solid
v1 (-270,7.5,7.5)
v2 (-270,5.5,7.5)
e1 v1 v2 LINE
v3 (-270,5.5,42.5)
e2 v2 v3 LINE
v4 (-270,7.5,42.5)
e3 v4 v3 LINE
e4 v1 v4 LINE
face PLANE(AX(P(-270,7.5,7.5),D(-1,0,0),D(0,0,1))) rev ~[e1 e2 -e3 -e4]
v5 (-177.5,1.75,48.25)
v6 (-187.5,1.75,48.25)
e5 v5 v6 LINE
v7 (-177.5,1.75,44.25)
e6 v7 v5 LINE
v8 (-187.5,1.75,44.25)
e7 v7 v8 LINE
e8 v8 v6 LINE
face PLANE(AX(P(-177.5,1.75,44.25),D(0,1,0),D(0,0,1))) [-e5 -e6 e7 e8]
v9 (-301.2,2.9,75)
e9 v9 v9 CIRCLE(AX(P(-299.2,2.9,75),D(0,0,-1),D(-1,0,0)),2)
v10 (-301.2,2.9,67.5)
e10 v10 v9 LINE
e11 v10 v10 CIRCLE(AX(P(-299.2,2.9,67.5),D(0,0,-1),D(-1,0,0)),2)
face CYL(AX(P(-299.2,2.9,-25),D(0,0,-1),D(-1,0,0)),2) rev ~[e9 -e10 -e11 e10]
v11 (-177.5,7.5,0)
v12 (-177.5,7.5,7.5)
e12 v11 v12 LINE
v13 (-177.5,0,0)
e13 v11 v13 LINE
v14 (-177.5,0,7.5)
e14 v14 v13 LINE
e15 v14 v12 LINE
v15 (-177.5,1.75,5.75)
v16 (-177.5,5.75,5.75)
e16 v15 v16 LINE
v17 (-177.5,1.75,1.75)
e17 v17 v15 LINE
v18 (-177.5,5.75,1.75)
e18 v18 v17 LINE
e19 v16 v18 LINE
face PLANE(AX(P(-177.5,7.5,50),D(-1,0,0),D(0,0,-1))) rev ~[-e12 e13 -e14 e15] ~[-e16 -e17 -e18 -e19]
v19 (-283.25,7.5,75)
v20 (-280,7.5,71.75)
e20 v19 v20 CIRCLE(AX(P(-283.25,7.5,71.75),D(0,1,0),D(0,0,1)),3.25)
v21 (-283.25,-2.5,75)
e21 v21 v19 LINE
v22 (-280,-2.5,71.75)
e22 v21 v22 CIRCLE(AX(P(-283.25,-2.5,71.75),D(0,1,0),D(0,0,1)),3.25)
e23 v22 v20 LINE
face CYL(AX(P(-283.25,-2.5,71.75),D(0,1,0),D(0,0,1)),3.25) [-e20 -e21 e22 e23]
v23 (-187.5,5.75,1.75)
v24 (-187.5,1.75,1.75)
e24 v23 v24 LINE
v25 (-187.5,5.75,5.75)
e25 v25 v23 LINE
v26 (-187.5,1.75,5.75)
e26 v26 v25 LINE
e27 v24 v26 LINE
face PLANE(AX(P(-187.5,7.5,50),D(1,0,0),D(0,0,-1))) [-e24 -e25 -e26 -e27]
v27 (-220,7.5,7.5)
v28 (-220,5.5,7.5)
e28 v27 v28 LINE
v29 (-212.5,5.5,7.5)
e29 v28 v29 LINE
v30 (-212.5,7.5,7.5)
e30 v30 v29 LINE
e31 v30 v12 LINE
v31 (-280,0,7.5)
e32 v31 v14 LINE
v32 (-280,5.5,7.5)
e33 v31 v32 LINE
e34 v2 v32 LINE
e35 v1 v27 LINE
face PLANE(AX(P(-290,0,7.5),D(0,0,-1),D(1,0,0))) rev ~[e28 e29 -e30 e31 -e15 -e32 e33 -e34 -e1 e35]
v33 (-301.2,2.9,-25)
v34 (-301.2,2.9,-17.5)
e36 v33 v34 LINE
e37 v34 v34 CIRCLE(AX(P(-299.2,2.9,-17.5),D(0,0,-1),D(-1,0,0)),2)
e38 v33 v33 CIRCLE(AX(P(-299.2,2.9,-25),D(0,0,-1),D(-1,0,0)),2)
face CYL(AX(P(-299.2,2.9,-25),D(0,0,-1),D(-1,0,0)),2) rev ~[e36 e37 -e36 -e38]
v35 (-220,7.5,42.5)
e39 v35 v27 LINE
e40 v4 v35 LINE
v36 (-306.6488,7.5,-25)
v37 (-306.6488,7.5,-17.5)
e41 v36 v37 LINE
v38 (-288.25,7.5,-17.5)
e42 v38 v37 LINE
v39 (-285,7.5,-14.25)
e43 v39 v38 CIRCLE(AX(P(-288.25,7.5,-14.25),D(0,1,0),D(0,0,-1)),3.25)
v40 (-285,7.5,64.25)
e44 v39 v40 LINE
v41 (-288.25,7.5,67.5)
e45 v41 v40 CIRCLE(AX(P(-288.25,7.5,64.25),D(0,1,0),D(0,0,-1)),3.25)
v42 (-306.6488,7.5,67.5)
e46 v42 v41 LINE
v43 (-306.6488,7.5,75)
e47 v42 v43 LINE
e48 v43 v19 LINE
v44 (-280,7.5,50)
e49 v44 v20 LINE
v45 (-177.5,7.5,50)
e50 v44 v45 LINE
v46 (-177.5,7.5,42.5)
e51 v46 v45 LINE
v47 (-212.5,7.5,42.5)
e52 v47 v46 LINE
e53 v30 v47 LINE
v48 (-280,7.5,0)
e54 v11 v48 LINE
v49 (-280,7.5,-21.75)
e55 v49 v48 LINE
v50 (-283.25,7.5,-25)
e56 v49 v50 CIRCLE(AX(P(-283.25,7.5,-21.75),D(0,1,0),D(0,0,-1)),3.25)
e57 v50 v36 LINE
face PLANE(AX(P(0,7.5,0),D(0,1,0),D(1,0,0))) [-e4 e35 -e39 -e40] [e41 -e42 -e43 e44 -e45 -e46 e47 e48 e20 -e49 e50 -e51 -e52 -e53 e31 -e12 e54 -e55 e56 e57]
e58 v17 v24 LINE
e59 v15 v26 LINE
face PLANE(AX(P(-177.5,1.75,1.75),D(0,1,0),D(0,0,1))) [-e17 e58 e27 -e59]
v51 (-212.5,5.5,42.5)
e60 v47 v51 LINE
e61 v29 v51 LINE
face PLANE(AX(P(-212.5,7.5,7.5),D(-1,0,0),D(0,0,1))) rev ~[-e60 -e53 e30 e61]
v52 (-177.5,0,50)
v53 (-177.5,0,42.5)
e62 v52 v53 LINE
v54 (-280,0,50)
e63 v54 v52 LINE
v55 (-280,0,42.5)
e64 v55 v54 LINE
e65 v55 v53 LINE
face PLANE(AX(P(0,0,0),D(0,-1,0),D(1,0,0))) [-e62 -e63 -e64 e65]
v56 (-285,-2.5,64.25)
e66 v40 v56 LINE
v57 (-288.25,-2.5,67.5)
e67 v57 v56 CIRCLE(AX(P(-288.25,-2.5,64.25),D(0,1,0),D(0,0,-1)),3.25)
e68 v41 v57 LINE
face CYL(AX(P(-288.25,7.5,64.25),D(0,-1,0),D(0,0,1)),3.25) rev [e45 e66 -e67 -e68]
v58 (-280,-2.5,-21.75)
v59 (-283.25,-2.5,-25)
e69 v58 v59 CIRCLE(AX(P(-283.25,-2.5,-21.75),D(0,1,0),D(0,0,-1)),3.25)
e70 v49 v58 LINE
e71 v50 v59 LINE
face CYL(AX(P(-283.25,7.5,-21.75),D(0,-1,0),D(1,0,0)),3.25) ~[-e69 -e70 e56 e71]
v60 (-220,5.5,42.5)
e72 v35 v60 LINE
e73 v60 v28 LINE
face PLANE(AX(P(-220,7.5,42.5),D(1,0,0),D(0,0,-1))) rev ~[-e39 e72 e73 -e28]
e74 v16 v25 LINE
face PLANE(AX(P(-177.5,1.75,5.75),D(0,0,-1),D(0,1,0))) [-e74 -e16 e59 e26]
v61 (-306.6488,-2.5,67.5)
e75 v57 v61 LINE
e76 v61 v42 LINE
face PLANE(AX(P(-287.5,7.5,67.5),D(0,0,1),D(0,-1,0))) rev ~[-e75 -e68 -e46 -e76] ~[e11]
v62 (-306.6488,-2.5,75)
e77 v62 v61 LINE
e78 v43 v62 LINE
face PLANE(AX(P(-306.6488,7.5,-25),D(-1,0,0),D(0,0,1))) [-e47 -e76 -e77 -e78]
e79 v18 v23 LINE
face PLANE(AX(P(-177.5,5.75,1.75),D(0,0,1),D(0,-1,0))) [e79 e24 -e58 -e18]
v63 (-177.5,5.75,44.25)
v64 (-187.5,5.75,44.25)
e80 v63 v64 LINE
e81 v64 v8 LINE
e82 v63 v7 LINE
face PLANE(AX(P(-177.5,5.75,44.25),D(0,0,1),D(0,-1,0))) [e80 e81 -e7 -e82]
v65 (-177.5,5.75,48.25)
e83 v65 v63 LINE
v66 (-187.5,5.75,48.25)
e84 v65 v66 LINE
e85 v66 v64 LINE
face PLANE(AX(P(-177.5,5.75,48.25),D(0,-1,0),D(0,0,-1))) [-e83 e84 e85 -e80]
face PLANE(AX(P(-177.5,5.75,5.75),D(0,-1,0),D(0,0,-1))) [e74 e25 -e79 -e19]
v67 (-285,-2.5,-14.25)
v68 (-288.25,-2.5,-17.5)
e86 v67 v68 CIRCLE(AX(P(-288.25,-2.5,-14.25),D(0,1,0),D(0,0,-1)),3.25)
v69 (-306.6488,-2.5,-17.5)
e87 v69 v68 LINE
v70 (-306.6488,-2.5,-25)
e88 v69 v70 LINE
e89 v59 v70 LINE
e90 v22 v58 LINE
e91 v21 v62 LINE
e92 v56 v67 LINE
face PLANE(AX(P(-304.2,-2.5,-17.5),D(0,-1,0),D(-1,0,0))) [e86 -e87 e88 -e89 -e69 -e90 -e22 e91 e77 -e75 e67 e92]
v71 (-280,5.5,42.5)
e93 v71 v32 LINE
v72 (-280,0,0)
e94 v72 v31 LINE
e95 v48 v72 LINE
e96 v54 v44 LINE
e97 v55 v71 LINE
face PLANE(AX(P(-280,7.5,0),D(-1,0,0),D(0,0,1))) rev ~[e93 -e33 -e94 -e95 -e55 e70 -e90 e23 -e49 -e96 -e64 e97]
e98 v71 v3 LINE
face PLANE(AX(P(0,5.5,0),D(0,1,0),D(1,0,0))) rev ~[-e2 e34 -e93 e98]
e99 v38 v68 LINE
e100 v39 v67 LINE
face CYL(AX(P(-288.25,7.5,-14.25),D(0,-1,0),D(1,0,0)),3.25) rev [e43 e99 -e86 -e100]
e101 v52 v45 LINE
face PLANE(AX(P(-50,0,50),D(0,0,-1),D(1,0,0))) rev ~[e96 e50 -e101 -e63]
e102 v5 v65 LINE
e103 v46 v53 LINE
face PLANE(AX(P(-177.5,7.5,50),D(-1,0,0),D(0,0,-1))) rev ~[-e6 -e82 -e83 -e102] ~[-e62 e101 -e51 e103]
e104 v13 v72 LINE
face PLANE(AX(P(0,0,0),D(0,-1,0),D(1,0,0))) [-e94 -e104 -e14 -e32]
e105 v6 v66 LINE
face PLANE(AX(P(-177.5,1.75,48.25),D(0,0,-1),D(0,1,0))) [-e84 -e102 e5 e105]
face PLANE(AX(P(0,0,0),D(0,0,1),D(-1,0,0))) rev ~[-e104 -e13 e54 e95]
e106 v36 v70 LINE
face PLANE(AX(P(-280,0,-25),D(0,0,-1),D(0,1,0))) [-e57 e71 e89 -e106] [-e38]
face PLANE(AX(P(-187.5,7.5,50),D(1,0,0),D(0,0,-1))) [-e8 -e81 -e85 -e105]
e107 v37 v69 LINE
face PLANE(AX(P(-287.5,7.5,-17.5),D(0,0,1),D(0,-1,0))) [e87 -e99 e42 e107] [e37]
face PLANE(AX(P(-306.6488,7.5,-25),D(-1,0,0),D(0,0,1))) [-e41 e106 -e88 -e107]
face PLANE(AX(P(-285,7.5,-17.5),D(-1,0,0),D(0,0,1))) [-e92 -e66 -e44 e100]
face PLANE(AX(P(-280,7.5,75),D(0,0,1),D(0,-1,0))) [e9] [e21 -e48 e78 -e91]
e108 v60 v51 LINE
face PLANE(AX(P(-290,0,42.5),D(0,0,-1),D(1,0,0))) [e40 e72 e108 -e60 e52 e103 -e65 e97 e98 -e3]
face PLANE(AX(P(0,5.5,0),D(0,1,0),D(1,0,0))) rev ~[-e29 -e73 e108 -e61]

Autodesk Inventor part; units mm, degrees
ref_plane "YZ Plane" through (0, 0, 0) normal (1, 0, 0) x (0, 1, 0)
ref_plane "XZ Plane" through (0, 0, 0) normal (0, 1, 0) x (-1, 0, 0)
ref_plane "XY Plane" through (0, 0, 0) normal (0, 0, 1) x (1, 0, 0)
sketch "Sketch1" plane through (0, 0, 0) normal (0, 1, 0) x (-1, 0, 0)
  line L0 (0, 0) -> (50, 0)
  line L1 (50, 0) -> (50, 50)
  line L2 (50, 50) -> (0, 50)
  line L3 (0, 50) -> (0, 0)
  line L4 (50, 50) -> (290, 50)
  line L5 (290, 50) -> (290, 42.5)
  line L6 (290, 42.5) -> (50, 42.5)
  line L7 (50, 42.5) -> (50, 50)
  line L8 (50, 0) -> (290, 0)
  line L9 (290, 0) -> (290, 7.5)
  line L10 (290, 7.5) -> (50, 7.5)
  line L11 (50, 7.5) -> (50, 0)
  dimension "d0" = 50
  dimension "d1" = 50
  dimension "d2" = 240
  dimension "d3" = 7.5
  dimension "d4" = 7.5
extrude "Extrusion1" add sketch "Sketch1" along normal blind 7.5
sketch "Sketch2" plane through (0, 7.5, 0) normal (0, 1, 0) x (1, 0, 0)
  line L0 (0, -50) -> (0, 0) projected
  point P0 (0, -25)
hole "Hole1" at (0, 7.5, 25) direction (0, -1, 0) diameter 6.35 end through all
sketch "Sketch3" plane through (0, 7.5, 0) normal (0, 1, 0) x (1, 0, 0)
  line L0 (-3.175, -50) -> (-3.175, 0) construction
  line L1 (-3.175, -50) -> (-28.175, -50) construction
  line L2 (-28.175, -50) -> (-28.175, 0) construction
  line L3 (-28.175, 0) -> (-3.175, 0) construction
  point P0 (0, 0)
  point P1 (-7.175, -4)
  point P2 (-24.175, -46)
  dimension "d14" = 25
hole "Hole2" at (-7.175, 7.5, 4) at (-24.175, 7.5, 46) direction (0, -1, 0) diameter 3.3 end through all
sketch "Sketch4" plane through (0, 7.5, 0) normal (0, 1, 0) x (1, 0, 0)
  arc A0 (0, -21.825) -> (0, -28.175) centre (0, -25) ccw construction
  line L0 (-3.175, -25) -> (-28.175, -25) construction
  line L1 (-3.175, -25) -> (21.825, -25) construction
  line L2 (-290, -50) -> (0, -50) construction
  line L3 (-28.175, -50) -> (-28.175, 0) construction
  line L4 (-50, -7.5) -> (-50, -42.5) construction
  line L5 (-50, -42.5) -> (-45, -42.5) construction
  line L6 (-45, -42.5) -> (-45, -32.5) construction
  line L7 (-45, -32.5) -> (-50, -32.5) construction
  line L8 (-50, -32.5) -> (-50, -42.5) construction
  line L9 (-45, -32.5) -> (-40, -32.5)
  line L10 (-40, -32.5) -> (-40, -42.5)
  line L11 (-40, -42.5) -> (-45, -42.5)
  line L12 (-45, -42.5) -> (-45, -32.5)
  point P0 (0, 0)
  dimension "d22" = 25
  dimension "d23" = 180
  dimension "d24" = 5
  dimension "d25" = 10
  dimension "d26" = 5
extrude "Extrusion2" add sketch "Sketch4" along normal blind 17.5
sketch "Sketch5" plane through (0, 7.5, 0) normal (0, 1, 0) x (1, 0, 0)
  line L0 (-85, -7.5) -> (-85, -42.5)
  line L1 (-127.5, -7.5) -> (-127.5, -42.5)
  line L2 (-92.5, -42.5) -> (-92.5, -7.5)
  line L3 (-135, -7.5) -> (-170, -7.5) construction
  line L4 (-170, -7.5) -> (-170, -42.5) construction
  line L5 (-170, -42.5) -> (-135, -42.5) construction
  line L6 (-135, -42.5) -> (-135, -7.5) construction
  line L7 (-177.5, -7.5) -> (-212.5, -7.5) construction
  line L8 (-212.5, -7.5) -> (-212.5, -42.5) construction
  line L9 (-212.5, -42.5) -> (-177.5, -42.5) construction
  line L10 (-177.5, -42.5) -> (-177.5, -7.5) construction
  line L11 (-220, -7.5) -> (-255, -7.5) construction
  line L12 (-255, -7.5) -> (-255, -42.5) construction
  line L13 (-255, -42.5) -> (-220, -42.5) construction
  line L14 (-220, -42.5) -> (-220, -7.5) construction
  line L15 (-85, -7.5) -> (-92.5, -7.5) construction
  line L16 (-92.5, -7.5) -> (-92.5, -42.5) construction
  line L17 (-92.5, -42.5) -> (-85, -42.5) construction
  line L18 (-85, -42.5) -> (-85, -7.5) construction
  line L19 (-127.5, -7.5) -> (-135, -7.5) construction
  line L20 (-135, -7.5) -> (-135, -42.5) construction
  line L21 (-135, -42.5) -> (-127.5, -42.5) construction
  line L22 (-127.5, -42.5) -> (-127.5, -7.5) construction
  line L23 (-170, -7.5) -> (-177.5, -7.5) construction
  line L24 (-177.5, -7.5) -> (-177.5, -42.5) construction
  line L25 (-177.5, -42.5) -> (-170, -42.5) construction
  line L26 (-170, -42.5) -> (-170, -7.5) construction
  line L27 (-212.5, -7.5) -> (-220, -7.5) construction
  line L28 (-220, -7.5) -> (-220, -42.5) construction
  line L29 (-220, -42.5) -> (-212.5, -42.5) construction
  line L30 (-212.5, -42.5) -> (-212.5, -7.5) construction
  line L31 (-220, -7.5) -> (-212.5, -7.5)
  line L32 (-212.5, -7.5) -> (-212.5, -42.5)
  line L33 (-212.5, -42.5) -> (-220, -42.5)
  line L34 (-220, -42.5) -> (-220, -7.5)
  line L35 (-177.5, -7.5) -> (-170, -7.5)
  line L36 (-170, -7.5) -> (-170, -42.5)
  line L37 (-170, -42.5) -> (-177.5, -42.5)
  line L38 (-177.5, -42.5) -> (-177.5, -7.5)
  line L39 (-135, -7.5) -> (-127.5, -7.5)
  line L40 (-127.5, -7.5) -> (-127.5, -42.5)
  line L41 (-127.5, -42.5) -> (-135, -42.5)
  line L42 (-135, -42.5) -> (-135, -7.5)
  line L43 (-92.5, -7.5) -> (-85, -7.5)
  line L44 (-85, -7.5) -> (-85, -42.5)
  line L45 (-85, -42.5) -> (-92.5, -42.5)
  line L46 (-92.5, -42.5) -> (-92.5, -7.5)
  point P0 (0, 0)
  point P1 (-50, -7.5)
  dimension "d30" = 35
  dimension "d31" = 35
  dimension "d32" = 35
  dimension "d33" = 35
  dimension "d34" = 35
  dimension "d35" = 35
extrude "Extrusion3" add sketch "Sketch5" against normal blind 2
sketch "Sketch6" plane through (0, 7.5, 0) normal (0, 1, 0) x (1, 0, 0)
  line L0 (-290, 0) -> (-290, -7.5) projected
  line L1 (-290, -50) -> (0, -50) projected
  line L2 (-290, 0) -> (-280, 0)
  line L3 (-280, 0) -> (-280, -50)
  line L4 (-280, -50) -> (-290, -50)
  line L5 (-290, -50) -> (-290, 0)
  point P0 (0, 0)
  dimension "d38" = 10
extrude "Extrusion4" cut sketch "Sketch6" against normal blind 7.5
sketch "Sketch7" plane through (-280, 7.5, 0) normal (-1, 0, 0) x (0, 0, 1)
  point P0 (0, -7.5)
sketch "Sketch8" plane through (-280, 7.5, 0) normal (-1, 0, 0) x (0, 0, 1)
  line L0 (-25, 0) -> (75, 0)
  line L1 (75, 0) -> (75, -7.5)
  line L2 (75, -7.5) -> (-25, -7.5)
  line L3 (-25, -7.5) -> (-25, 0)
  line L4 (-25, 0) -> (75, 0)
  line L5 (75, 0) -> (75, -10)
  line L6 (75, -10) -> (-25, -10)
  line L7 (-25, -10) -> (-25, 0)
  point P0 (0, -7.5)
  dimension "d41" = 100
  dimension "d42" = 10
extrude "Extrusion5" add sketch "Sketch8" along normal blind 7.5
sketch "Sketch9" plane through (-287.5, 7.5, 0) normal (-1, 0, 0) x (0, 0, 1)
  line L0 (75, 0) -> (-25, 0) projected
  line L1 (-25, -10) -> (75, -10) projected
  line L2 (-25, 0) -> (-17.5, 0)
  line L3 (-17.5, 0) -> (-17.5, -10)
  line L4 (-17.5, -10) -> (-25, -10)
  line L5 (-25, -10) -> (-25, 0)
  line L6 (75, 0) -> (67.5, 0)
  line L7 (67.5, 0) -> (67.5, -10)
  line L8 (67.5, -10) -> (75, -10)
  line L9 (75, -10) -> (75, 0)
  point P0 (0, -7.5)
  dimension "d45" = 7.5
  dimension "d46" = 7.5
extrude "Extrusion6" add sketch "Sketch9" along normal blind 25 contours L9 L1 L7 L0 | L3 L1 L5 L0
sketch "Sketch10" plane through (-287.5, -2.5, -17.5) normal (0, 0, 1) x (1, 0, 0)
  line L0 (0, 0) -> (-25, 0) construction
  line L1 (0, 0) -> (-3, 0) construction
  line L2 (-3, 0) -> (-6.2, 0)
  line L3 (-6.2, 0) -> (-6.2, 2.1)
  line L4 (-6.2, 2.1) -> (-3, 2.1)
  line L5 (-3, 2.1) -> (-3, 0)
  line L6 (-6.2, 2.1) -> (-11.7, 2.1) construction
  line L7 (-11.7, 2.1) -> (-11.7, 5.4) construction
  point P0 (287.5, 2.5)
  dimension "d49" = 3
  dimension "d50" = 3.2
  dimension "d51" = 2.1
  dimension "d52" = 5.5
  dimension "d53" = 3.3
extrude "Extrusion7" add sketch "Sketch10" along normal blind 92.5
sketch "Sketch11" plane through (-287.5, -2.5, -17.5) normal (0, 0, 1) x (1, 0, 0)
  line L0 (-6.2, 2.1) -> (-3, 2.1) construction
  line L1 (-6.2, 2.1) -> (-11.7, 2.1) construction
  line L2 (-11.7, 2.1) -> (-11.7, 5.4) construction
  circle A0 centre (-11.7, 5.4) radius 2.125
  point P0 (287.5, 2.5)
  dimension "d56" = 5.5
  dimension "d57" = 3.3
  dimension "d58" = 4.25
extrude "Extrusion8" cut sketch "Sketch11" along normal mid plane 241
sketch "Sketch12" plane through (-287.5, -2.5, -17.5) normal (0, 0, 1) x (1, 0, 0)
  circle A0 centre (-11.7, 5.4) radius 2.125 construction
  line L0 (-11.7, 5.4) -> (-11.7, 0.96) construction
  line L1 (-11.7, 0.96) -> (-16.7, 0.96) construction
  line L2 (-6.2, 0) -> (-25, 0) projected
  line L3 (-16.7, 0.96) -> (-19.2, 0.96)
  line L4 (-19.2, 0.96) -> (-19.2, 0)
  line L5 (-19.2, 0) -> (-16.7, 0)
  line L6 (-16.7, 0) -> (-16.7, 0.96)
  point P0 (287.5, 2.5)
  dimension "d61" = 4.44
  dimension "d62" = 5
  dimension "d63" = 2.5
extrude "Extrusion9" add sketch "Sketch12" along normal blind 91.25
sketch "Sketch13" plane through (-293.7, -0.4, -17.5) normal (0, 1, 0) x (1, 0, 0)
  line L0 (3.2, 0) -> (3.2, -85) construction
  line L1 (3.2, 0) -> (3.2, -30) construction
  line L2 (0, 0) -> (0, -85) construction
  line L3 (3.2, -30) -> (0, -30) construction
  line L4 (0, -30) -> (0, -36.35) construction
  line L5 (0, -36.35) -> (3.2, -36.35) construction
  line L6 (3.2, -36.35) -> (3.2, -30) construction
  line L7 (0, -30) -> (3.2, -30)
  line L8 (3.2, -30) -> (3.2, -36.35)
  line L9 (3.2, -36.35) -> (0, -36.35)
  line L10 (0, -36.35) -> (0, -30)
  point P0 (293.7, -17.5)
  dimension "d66" = 30
  dimension "d67" = 6.35
extrude "Extrusion10" add sketch "Sketch13" along normal blind 3.8
sketch "Sketch14" plane through (0, 7.5, 0) normal (0, 1, 0) x (1, 0, 0)
  line L0 (-287.5, 17.5) -> (-287.5, -67.5) projected
  line L1 (-287.5, 17.5) -> (-285, 17.5)
  line L2 (-285, 17.5) -> (-285, -67.5)
  line L3 (-285, -67.5) -> (-287.5, -67.5)
  line L4 (-287.5, -67.5) -> (-287.5, 17.5)
  point P0 (0, 0)
  dimension "d70" = 2.5
extrude "Extrusion11" cut sketch "Sketch14" against normal blind 14.55
sketch "Sketch15" plane through (0, 7.5, 0) normal (0, 1, 0) x (1, 0, 0)
  line L0 (-312.5, 17.5) -> (-312.5, 25) projected
  line L1 (-280, -75) -> (-312.5, -75) projected
  line L2 (-312.5, 25) -> (-306.6488, 25)
  line L3 (-306.6488, 25) -> (-306.6488, -75)
  line L4 (-306.6488, -75) -> (-312.5, -75)
  line L5 (-312.5, -75) -> (-312.5, 25)
  point P0 (0, 0)
extrude "Extrusion12" cut sketch "Sketch15" against normal blind 14.55
fillet "Fillet1" radius 0.1 1 edges at (-301.325, 2.9, -17.5)
fillet "Fillet2" radius 0.1 1 edges at (-301.325, 2.9, 67.5)
fillet "Fillet3" radius 3.25 1 edges at (-280, 2.5, 75)
fillet "Fillet4" radius 3.25 1 edges at (-285, 2.5, 67.5)
fillet "Fillet5" radius 3.25 1 edges at (-280, 2.5, -25)
fillet "Fillet6" radius 3.25 1 edges at (-285, 2.5, -17.5)
sketch "Sketch16" plane through (0, 7.5, 0) normal (0, 1, 0) x (1, 0, 0)
  line L0 (-220, -42.5) -> (-220, -7.5) construction
  line L1 (-220, -42.5) -> (-280, -42.5) construction
  line L2 (-220, -7.5) -> (-255, -7.5) construction
  line L3 (-255, -7.5) -> (-255, -42.5) construction
  line L4 (-255, -42.5) -> (-220, -42.5) construction
  line L5 (-220, -42.5) -> (-220, -7.5) construction
  line L6 (-280, -7.5) -> (-280, 0) projected
  line L7 (-280, -7.5) -> (-270, -7.5)
  line L8 (-270, -7.5) -> (-270, -42.5)
  line L9 (-270, -42.5) -> (-280, -42.5)
  line L10 (-280, -42.5) -> (-280, -7.5)
  point P0 (0, 0)
  dimension "d81" = 35
  dimension "d82" = 10
extrude "Extrusion13" add sketch "Sketch16" against normal blind 2
sketch "Sketch17" plane through (0, 7.5, 0) normal (0, 1, 0) x (1, 0, 0)
  point P0 (0, 0)
sketch "Sketch18" plane through (0, 7.5, 0) normal (0, 1, 0) x (1, 0, 0)
  line L0 (-270, -7.5) -> (-270, -42.5) construction
  line L1 (-285, -64.25) -> (-285, 14.25) construction
  line L2 (-280, -7.5) -> (-280, 0) construction
  line L3 (-270, -7.5) -> (-280, -7.5) construction
  line L4 (-275, -7.5) -> (-275, -42.5) construction
  line L5 (-50, -42.5) -> (-280, -42.5) construction
  circle A0 centre (-275, -12.5) radius 1.8 construction
  circle A1 centre (-275, -37.5) radius 1.8 construction
  circle A2 centre (-275, -12.5) radius 1.8
  circle A3 centre (-275, -37.5) radius 1.8
  point P0 (0, 0)
  dimension "d85" = 3.6
  dimension "d86" = 3.6
hole "Hole3" at (-275, 7.5, 12.5) at (-275, 7.5, 37.5) direction (0, -1, 0) diameter 3.3 depth 15 tip angle 118
sketch "Sketch19" plane through (0, 7.5, 0) normal (0, 1, 0) x (1, 0, 0)
  circle A0 centre (-275, -12.5) radius 1.65 construction
  line L0 (-275, -12.5) -> (-212.5, -12.5) construction
  line L1 (-212.5, -7.5) -> (-212.5, -42.5) construction
  circle A1 centre (-275, -37.5) radius 1.65 construction
  line L2 (-275, -37.5) -> (-212.5, -37.5) construction
  line L3 (-220, -42.5) -> (-220, -7.5) construction
  line L4 (-220, -12.5) -> (-212.5, -12.5) construction
  line L5 (-216.25, -12.5) -> (-216.25, -37.5) construction
  point P0 (0, 0)
hole "Hole4" at (-216.25, 7.5, 12.5) at (-216.25, 7.5, 37.5) direction (0, -1, 0) diameter 3.3 depth 15 tip angle 118
sketch "Sketch20" plane through (-45, 7.5, 32.5) normal (-1, 0, 0) x (0, 0, 1)
  line L0 (10, 17.5) -> (0, 17.5) construction
  line L1 (5, 17.5) -> (5, -0.1335) construction
  line L2 (10, 0) -> (10, 17.5) construction
  line L3 (10, 12.5) -> (5, 12.5) construction
  circle A0 centre (5, 12.5) radius 3
  point P0 (-32.5, -7.5)
  dimension "d101" = 6
extrude "Extrusion14" cut sketch "Sketch20" against normal blind 20
sketch "Sketch21" plane through (0, 7.5, 0) normal (0, 1, 0) x (1, 0, 0)
  line L0 (-306.6488, 17.5) -> (-306.6488, -67.5) projected
  line L1 (-306.6488, 17.5) -> (-288.25, 17.5) projected
  line L2 (-306.6488, -67.5) -> (-288.25, -67.5)
  line L3 (-288.25, -67.5) -> (-288.25, 17.5)
  line L4 (-288.25, 17.5) -> (-306.6488, 17.5)
  line L5 (-306.6488, 17.5) -> (-306.6488, -67.5)
  point P0 (0, 0)
extrude "Extrusion15" cut sketch "Sketch21" against normal blind 10
sketch "Sketch22" plane through (0, 7.5, 0) normal (0, 1, 0) x (1, 0, 0)
  line L0 (-280, -50) -> (0, -50) projected
  line L1 (0, 0) -> (-280, 0) projected
  line L2 (-280, -50) -> (-270.5687, -50)
  line L3 (-270.5687, -50) -> (-270.5687, 0)
  line L4 (-270.5687, 0) -> (-280, 0)
  line L5 (-280, 0) -> (-280, -50)
  line L6 (-50, -42.5) -> (-280, -42.5) projected
  line L7 (-219.3019, -42.5) -> (-213.3073, -42.5)
  line L8 (-213.3073, -42.5) -> (-213.3073, -8.284)
  line L9 (-213.3073, -8.284) -> (-219.3019, -8.284)
  line L10 (-219.3019, -8.284) -> (-219.3019, -42.5)
extrude "Extrusion16" add sketch "Sketch22" against normal blind 2
sketch "Sketch23" plane through (-306.6488, -2.5, -25) normal (0, 0, -1) x (-1, 0, 0)
  circle A0 centre (-7.4488, 5.4) radius 2.125 projected
  circle A1 centre (-7.4488, 5.4) radius 2
  circle A2 centre (-7.4488, 5.4) radius 2.4429
  point P0 (-306.6488, 2.5)
  dimension "d108" = 4
extrude "Extrusion17" add sketch "Sketch23" against normal blind 100 contours A0 | A2
sketch "Sketch24" plane through (0, 7.5, 0) normal (0, 1, 0) x (1, 0, 0)
  line L0 (-288.25, -67.5) -> (-306.6488, -67.5) projected
  arc A0 (-285, 14.25) -> (-288.25, 17.5) centre (-288.25, 14.25) ccw projected
  line L1 (-306.6488, -67.5) -> (-288.25, -67.5)
  line L2 (-288.25, -67.5) -> (-288.25, 17.5)
  line L3 (-288.25, 17.5) -> (-306.6488, 17.5)
  line L4 (-306.6488, 17.5) -> (-306.6488, -67.5)
  point P0 (0, 0)
extrude "Extrusion18" cut sketch "Sketch24" against normal blind 100
sketch "Sketch25" plane through (0, 7.5, 0) normal (0, 1, 0) x (1, 0, 0)
  line L0 (-50, -42.5) -> (-280, -42.5) projected
  line L1 (-280, -7.5) -> (-50, -7.5) projected
  line L2 (-50, -42.5) -> (-55, -42.5)
  line L3 (-55, -42.5) -> (-55, -7.5)
  line L4 (-55, -7.5) -> (-50, -7.5)
  line L5 (-50, -7.5) -> (-50, -42.5)
  point P0 (0, 0)
  dimension "d113" = 5
extrude "Extrusion19" add sketch "Sketch25" against normal blind 2
sketch "Sketch26" plane through (0, 7.5, 0) normal (0, 1, 0) x (1, 0, 0)
  line L0 (-55, -42.5) -> (-85, -42.5) construction
  line L1 (-55, -42.5) -> (-50, -42.5) construction
  line L2 (-55, -42.5) -> (-50, -42.5) construction
  line L3 (-50, -42.5) -> (-50, -7.5) construction
  line L4 (-50, -42.5) -> (-50, -7.5) construction
  circle A0 centre (-50, -37.5) radius 1.65 construction
  circle A1 centre (-50, -12.5) radius 1.65 construction
  circle A2 centre (-50, -37.5) radius 1.65
  circle A3 centre (-50, -12.5) radius 1.65
  line L5 (-50, -37.5) -> (-92.5, -37.5) construction
  line L6 (-92.5, -42.5) -> (-92.5, -7.5) construction
  line L7 (-50, -12.5) -> (-92.5, -12.5) construction
  line L8 (-92.5, -37.5) -> (-85, -37.5) construction
  line L9 (-85, -7.5) -> (-85, -42.5) construction
  line L10 (-88.75, -37.5) -> (-88.75, -12.5) construction
  circle A4 centre (-88.75, -37.5) radius 1.65
  circle A5 centre (-88.75, -12.5) radius 1.65
  point P0 (0, 0)
  dimension "d116" = 3.3
  dimension "d117" = 3.3
  dimension "d118" = 3.3
  dimension "d119" = 3.3
extrude "Extrusion20" cut sketch "Sketch26" against normal blind 2
sketch "Sketch27" plane through (0, 5.5, 0) normal (0, -1, 0) x (1, 0, 0)
  line L0 (-50, 7.5) -> (-55, 7.5) projected
  line L1 (-55, 7.5) -> (-46.6169, 7.5)
  line L2 (-46.6169, 7.5) -> (-46.6169, 42.5)
  line L3 (-46.6169, 42.5) -> (-55, 42.5)
  line L4 (-55, 42.5) -> (-55, 7.5)
  point P0 (0, 0)
extrude "Extrusion21" add sketch "Sketch27" along normal blind 5.5
sketch "Sketch28" plane through (0, 7.5, 0) normal (0, 1, 0) x (1, 0, 0)
  circle A0 centre (-50, -12.5) radius 1.65 projected
  circle A1 centre (-50, -37.5) radius 1.65 projected
  point P0 (0, 0)
hole "Hole5" at (-50, 7.5, 12.5) at (-50, 7.5, 37.5) direction (0, -1, 0) diameter 3.3 depth 8 tip angle 118
sketch "Sketch29" plane through (0, 7.5, 0) normal (0, 1, 0) x (1, 0, 0)
  circle A0 centre (-7.175, -4) radius 1.65 construction
  circle A1 centre (-24.175, -46) radius 1.65 construction
  line L0 (-7.175, -4) -> (-24.175, -46) construction
  line L1 (-7.175, -4) -> (-7.175, -46) construction
  line L2 (-7.175, -46) -> (-24.175, -46) construction
  line L3 (-7.175, -25) -> (-25.825, -25) construction
  line L4 (-25.825, -25) -> (-25.825, -46) construction
  line L5 (-16.5, -25) -> (-25.825, -25) construction
  line L6 (-24.175, -46) -> (-24.175, -25) construction
  line L7 (-15.675, -46) -> (-15.675, -4) construction
  line L8 (-40, -32.5) -> (-40, -42.5) construction
  line L9 (-40, -42.5) -> (-24.175, -42.5) construction
  line L10 (-24.175, -42.5) -> (-24.175, -46) construction
  line L11 (-15.675, -25) -> (-15.675, -46) construction
  line L12 (-15.675, -46) -> (-15.675, -4) construction
  circle A2 centre (-15.675, -46) radius 1.65 construction
  circle A3 centre (-15.675, -46) radius 1.65
  circle A4 centre (-15.675, -4) radius 1.65
  point P0 (0, 0)
  dimension "d131" = 42
  dimension "d132" = 17
  dimension "d133" = 21
  dimension "d135" = 8.5
  dimension "d136" = 15.825
  dimension "d137" = 3.5
  dimension "d138" = 21
  dimension "d139" = 3.3
  dimension "d140" = 3.3
  dimension "d141" = 3.3
extrude "Extrusion22" cut sketch "Sketch29" against normal blind 10
sketch "Sketch30" plane through (0, 7.5, 0) normal (0, 1, 0) x (1, 0, 0)
  circle A0 centre (-7.175, -4) radius 1.65 projected
  circle A1 centre (-7.175, -4) radius 2.1021
  circle A2 centre (-24.175, -46) radius 1.65 projected
  circle A3 centre (-24.175, -46) radius 2.9173
  point P0 (0, 0)
extrude "Extrusion23" add sketch "Sketch30" against normal blind 7.5 contours A0 | A1 | A2 | A3
sketch "Sketch31" plane through (0, 7.5, 0) normal (0, 1, 0) x (1, 0, 0)
  line L0 (-177.5, -42.5) -> (-177.5, -7.5) construction
  line L1 (-177.5, -42.5) -> (-177.5, 0) construction
  line L2 (-280, -50) -> (0, -50) projected
  line L3 (-177.5, 0) -> (0, 0)
  line L4 (0, 0) -> (0, -50)
  line L5 (0, -50) -> (-177.5, -50)
  line L6 (-177.5, -50) -> (-177.5, 0)
extrude "Extrusion24" cut sketch "Sketch31" along normal mid plane 100
sketch "Sketch32" plane through (-177.5, 7.5, 50) normal (1, 0, 0) x (0, 0, -1)
  line L0 (0, 0) -> (7.5, 0) construction
  line L1 (7.5, -7.5) -> (0, -7.5) construction
  line L2 (0, 0) -> (7.5, -7.5) construction
  line L3 (7.5, -7.5) -> (7.5, 0) construction
  line L4 (7.5, 0) -> (0, -7.5) construction
  line L5 (5.75, -5.75) -> (1.75, -5.75)
  line L6 (1.75, -5.75) -> (1.75, -1.75)
  line L7 (1.75, -1.75) -> (5.75, -1.75)
  line L8 (5.75, -1.75) -> (5.75, -5.75)
  line L9 (5.75, -5.75) -> (1.75, -1.75) construction
  line L10 (1.75, -5.75) -> (5.75, -1.75) construction
  line L11 (42.5, 0) -> (50, 0) construction
  line L12 (42.5, 0) -> (50, -7.5) construction
  line L13 (50, 0) -> (71.75, 0) construction
  line L14 (50, -7.5) -> (50, 0) construction
  line L15 (42.5, -2) -> (42.5, -7.5) construction
  line L16 (50, 0) -> (42.5, -7.5) construction
  line L17 (48.25, -5.75) -> (44.25, -5.75)
  line L18 (44.25, -5.75) -> (44.25, -1.75)
  line L19 (44.25, -1.75) -> (48.25, -1.75)
  line L20 (48.25, -1.75) -> (48.25, -5.75)
  line L21 (48.25, -5.75) -> (44.25, -1.75) construction
  line L22 (44.25, -5.75) -> (48.25, -1.75) construction
  point P0 (3.75, -3.75)
  point P1 (46.25, -3.75)
  dimension "d148" = 4
  dimension "d149" = 4
  dimension "d150" = 4
  dimension "d151" = 4
extrude "Extrusion25" cut sketch "Sketch32" against normal blind 10
properties part number "mtv_frame(BrakeInFront)1-13 - BACK"
